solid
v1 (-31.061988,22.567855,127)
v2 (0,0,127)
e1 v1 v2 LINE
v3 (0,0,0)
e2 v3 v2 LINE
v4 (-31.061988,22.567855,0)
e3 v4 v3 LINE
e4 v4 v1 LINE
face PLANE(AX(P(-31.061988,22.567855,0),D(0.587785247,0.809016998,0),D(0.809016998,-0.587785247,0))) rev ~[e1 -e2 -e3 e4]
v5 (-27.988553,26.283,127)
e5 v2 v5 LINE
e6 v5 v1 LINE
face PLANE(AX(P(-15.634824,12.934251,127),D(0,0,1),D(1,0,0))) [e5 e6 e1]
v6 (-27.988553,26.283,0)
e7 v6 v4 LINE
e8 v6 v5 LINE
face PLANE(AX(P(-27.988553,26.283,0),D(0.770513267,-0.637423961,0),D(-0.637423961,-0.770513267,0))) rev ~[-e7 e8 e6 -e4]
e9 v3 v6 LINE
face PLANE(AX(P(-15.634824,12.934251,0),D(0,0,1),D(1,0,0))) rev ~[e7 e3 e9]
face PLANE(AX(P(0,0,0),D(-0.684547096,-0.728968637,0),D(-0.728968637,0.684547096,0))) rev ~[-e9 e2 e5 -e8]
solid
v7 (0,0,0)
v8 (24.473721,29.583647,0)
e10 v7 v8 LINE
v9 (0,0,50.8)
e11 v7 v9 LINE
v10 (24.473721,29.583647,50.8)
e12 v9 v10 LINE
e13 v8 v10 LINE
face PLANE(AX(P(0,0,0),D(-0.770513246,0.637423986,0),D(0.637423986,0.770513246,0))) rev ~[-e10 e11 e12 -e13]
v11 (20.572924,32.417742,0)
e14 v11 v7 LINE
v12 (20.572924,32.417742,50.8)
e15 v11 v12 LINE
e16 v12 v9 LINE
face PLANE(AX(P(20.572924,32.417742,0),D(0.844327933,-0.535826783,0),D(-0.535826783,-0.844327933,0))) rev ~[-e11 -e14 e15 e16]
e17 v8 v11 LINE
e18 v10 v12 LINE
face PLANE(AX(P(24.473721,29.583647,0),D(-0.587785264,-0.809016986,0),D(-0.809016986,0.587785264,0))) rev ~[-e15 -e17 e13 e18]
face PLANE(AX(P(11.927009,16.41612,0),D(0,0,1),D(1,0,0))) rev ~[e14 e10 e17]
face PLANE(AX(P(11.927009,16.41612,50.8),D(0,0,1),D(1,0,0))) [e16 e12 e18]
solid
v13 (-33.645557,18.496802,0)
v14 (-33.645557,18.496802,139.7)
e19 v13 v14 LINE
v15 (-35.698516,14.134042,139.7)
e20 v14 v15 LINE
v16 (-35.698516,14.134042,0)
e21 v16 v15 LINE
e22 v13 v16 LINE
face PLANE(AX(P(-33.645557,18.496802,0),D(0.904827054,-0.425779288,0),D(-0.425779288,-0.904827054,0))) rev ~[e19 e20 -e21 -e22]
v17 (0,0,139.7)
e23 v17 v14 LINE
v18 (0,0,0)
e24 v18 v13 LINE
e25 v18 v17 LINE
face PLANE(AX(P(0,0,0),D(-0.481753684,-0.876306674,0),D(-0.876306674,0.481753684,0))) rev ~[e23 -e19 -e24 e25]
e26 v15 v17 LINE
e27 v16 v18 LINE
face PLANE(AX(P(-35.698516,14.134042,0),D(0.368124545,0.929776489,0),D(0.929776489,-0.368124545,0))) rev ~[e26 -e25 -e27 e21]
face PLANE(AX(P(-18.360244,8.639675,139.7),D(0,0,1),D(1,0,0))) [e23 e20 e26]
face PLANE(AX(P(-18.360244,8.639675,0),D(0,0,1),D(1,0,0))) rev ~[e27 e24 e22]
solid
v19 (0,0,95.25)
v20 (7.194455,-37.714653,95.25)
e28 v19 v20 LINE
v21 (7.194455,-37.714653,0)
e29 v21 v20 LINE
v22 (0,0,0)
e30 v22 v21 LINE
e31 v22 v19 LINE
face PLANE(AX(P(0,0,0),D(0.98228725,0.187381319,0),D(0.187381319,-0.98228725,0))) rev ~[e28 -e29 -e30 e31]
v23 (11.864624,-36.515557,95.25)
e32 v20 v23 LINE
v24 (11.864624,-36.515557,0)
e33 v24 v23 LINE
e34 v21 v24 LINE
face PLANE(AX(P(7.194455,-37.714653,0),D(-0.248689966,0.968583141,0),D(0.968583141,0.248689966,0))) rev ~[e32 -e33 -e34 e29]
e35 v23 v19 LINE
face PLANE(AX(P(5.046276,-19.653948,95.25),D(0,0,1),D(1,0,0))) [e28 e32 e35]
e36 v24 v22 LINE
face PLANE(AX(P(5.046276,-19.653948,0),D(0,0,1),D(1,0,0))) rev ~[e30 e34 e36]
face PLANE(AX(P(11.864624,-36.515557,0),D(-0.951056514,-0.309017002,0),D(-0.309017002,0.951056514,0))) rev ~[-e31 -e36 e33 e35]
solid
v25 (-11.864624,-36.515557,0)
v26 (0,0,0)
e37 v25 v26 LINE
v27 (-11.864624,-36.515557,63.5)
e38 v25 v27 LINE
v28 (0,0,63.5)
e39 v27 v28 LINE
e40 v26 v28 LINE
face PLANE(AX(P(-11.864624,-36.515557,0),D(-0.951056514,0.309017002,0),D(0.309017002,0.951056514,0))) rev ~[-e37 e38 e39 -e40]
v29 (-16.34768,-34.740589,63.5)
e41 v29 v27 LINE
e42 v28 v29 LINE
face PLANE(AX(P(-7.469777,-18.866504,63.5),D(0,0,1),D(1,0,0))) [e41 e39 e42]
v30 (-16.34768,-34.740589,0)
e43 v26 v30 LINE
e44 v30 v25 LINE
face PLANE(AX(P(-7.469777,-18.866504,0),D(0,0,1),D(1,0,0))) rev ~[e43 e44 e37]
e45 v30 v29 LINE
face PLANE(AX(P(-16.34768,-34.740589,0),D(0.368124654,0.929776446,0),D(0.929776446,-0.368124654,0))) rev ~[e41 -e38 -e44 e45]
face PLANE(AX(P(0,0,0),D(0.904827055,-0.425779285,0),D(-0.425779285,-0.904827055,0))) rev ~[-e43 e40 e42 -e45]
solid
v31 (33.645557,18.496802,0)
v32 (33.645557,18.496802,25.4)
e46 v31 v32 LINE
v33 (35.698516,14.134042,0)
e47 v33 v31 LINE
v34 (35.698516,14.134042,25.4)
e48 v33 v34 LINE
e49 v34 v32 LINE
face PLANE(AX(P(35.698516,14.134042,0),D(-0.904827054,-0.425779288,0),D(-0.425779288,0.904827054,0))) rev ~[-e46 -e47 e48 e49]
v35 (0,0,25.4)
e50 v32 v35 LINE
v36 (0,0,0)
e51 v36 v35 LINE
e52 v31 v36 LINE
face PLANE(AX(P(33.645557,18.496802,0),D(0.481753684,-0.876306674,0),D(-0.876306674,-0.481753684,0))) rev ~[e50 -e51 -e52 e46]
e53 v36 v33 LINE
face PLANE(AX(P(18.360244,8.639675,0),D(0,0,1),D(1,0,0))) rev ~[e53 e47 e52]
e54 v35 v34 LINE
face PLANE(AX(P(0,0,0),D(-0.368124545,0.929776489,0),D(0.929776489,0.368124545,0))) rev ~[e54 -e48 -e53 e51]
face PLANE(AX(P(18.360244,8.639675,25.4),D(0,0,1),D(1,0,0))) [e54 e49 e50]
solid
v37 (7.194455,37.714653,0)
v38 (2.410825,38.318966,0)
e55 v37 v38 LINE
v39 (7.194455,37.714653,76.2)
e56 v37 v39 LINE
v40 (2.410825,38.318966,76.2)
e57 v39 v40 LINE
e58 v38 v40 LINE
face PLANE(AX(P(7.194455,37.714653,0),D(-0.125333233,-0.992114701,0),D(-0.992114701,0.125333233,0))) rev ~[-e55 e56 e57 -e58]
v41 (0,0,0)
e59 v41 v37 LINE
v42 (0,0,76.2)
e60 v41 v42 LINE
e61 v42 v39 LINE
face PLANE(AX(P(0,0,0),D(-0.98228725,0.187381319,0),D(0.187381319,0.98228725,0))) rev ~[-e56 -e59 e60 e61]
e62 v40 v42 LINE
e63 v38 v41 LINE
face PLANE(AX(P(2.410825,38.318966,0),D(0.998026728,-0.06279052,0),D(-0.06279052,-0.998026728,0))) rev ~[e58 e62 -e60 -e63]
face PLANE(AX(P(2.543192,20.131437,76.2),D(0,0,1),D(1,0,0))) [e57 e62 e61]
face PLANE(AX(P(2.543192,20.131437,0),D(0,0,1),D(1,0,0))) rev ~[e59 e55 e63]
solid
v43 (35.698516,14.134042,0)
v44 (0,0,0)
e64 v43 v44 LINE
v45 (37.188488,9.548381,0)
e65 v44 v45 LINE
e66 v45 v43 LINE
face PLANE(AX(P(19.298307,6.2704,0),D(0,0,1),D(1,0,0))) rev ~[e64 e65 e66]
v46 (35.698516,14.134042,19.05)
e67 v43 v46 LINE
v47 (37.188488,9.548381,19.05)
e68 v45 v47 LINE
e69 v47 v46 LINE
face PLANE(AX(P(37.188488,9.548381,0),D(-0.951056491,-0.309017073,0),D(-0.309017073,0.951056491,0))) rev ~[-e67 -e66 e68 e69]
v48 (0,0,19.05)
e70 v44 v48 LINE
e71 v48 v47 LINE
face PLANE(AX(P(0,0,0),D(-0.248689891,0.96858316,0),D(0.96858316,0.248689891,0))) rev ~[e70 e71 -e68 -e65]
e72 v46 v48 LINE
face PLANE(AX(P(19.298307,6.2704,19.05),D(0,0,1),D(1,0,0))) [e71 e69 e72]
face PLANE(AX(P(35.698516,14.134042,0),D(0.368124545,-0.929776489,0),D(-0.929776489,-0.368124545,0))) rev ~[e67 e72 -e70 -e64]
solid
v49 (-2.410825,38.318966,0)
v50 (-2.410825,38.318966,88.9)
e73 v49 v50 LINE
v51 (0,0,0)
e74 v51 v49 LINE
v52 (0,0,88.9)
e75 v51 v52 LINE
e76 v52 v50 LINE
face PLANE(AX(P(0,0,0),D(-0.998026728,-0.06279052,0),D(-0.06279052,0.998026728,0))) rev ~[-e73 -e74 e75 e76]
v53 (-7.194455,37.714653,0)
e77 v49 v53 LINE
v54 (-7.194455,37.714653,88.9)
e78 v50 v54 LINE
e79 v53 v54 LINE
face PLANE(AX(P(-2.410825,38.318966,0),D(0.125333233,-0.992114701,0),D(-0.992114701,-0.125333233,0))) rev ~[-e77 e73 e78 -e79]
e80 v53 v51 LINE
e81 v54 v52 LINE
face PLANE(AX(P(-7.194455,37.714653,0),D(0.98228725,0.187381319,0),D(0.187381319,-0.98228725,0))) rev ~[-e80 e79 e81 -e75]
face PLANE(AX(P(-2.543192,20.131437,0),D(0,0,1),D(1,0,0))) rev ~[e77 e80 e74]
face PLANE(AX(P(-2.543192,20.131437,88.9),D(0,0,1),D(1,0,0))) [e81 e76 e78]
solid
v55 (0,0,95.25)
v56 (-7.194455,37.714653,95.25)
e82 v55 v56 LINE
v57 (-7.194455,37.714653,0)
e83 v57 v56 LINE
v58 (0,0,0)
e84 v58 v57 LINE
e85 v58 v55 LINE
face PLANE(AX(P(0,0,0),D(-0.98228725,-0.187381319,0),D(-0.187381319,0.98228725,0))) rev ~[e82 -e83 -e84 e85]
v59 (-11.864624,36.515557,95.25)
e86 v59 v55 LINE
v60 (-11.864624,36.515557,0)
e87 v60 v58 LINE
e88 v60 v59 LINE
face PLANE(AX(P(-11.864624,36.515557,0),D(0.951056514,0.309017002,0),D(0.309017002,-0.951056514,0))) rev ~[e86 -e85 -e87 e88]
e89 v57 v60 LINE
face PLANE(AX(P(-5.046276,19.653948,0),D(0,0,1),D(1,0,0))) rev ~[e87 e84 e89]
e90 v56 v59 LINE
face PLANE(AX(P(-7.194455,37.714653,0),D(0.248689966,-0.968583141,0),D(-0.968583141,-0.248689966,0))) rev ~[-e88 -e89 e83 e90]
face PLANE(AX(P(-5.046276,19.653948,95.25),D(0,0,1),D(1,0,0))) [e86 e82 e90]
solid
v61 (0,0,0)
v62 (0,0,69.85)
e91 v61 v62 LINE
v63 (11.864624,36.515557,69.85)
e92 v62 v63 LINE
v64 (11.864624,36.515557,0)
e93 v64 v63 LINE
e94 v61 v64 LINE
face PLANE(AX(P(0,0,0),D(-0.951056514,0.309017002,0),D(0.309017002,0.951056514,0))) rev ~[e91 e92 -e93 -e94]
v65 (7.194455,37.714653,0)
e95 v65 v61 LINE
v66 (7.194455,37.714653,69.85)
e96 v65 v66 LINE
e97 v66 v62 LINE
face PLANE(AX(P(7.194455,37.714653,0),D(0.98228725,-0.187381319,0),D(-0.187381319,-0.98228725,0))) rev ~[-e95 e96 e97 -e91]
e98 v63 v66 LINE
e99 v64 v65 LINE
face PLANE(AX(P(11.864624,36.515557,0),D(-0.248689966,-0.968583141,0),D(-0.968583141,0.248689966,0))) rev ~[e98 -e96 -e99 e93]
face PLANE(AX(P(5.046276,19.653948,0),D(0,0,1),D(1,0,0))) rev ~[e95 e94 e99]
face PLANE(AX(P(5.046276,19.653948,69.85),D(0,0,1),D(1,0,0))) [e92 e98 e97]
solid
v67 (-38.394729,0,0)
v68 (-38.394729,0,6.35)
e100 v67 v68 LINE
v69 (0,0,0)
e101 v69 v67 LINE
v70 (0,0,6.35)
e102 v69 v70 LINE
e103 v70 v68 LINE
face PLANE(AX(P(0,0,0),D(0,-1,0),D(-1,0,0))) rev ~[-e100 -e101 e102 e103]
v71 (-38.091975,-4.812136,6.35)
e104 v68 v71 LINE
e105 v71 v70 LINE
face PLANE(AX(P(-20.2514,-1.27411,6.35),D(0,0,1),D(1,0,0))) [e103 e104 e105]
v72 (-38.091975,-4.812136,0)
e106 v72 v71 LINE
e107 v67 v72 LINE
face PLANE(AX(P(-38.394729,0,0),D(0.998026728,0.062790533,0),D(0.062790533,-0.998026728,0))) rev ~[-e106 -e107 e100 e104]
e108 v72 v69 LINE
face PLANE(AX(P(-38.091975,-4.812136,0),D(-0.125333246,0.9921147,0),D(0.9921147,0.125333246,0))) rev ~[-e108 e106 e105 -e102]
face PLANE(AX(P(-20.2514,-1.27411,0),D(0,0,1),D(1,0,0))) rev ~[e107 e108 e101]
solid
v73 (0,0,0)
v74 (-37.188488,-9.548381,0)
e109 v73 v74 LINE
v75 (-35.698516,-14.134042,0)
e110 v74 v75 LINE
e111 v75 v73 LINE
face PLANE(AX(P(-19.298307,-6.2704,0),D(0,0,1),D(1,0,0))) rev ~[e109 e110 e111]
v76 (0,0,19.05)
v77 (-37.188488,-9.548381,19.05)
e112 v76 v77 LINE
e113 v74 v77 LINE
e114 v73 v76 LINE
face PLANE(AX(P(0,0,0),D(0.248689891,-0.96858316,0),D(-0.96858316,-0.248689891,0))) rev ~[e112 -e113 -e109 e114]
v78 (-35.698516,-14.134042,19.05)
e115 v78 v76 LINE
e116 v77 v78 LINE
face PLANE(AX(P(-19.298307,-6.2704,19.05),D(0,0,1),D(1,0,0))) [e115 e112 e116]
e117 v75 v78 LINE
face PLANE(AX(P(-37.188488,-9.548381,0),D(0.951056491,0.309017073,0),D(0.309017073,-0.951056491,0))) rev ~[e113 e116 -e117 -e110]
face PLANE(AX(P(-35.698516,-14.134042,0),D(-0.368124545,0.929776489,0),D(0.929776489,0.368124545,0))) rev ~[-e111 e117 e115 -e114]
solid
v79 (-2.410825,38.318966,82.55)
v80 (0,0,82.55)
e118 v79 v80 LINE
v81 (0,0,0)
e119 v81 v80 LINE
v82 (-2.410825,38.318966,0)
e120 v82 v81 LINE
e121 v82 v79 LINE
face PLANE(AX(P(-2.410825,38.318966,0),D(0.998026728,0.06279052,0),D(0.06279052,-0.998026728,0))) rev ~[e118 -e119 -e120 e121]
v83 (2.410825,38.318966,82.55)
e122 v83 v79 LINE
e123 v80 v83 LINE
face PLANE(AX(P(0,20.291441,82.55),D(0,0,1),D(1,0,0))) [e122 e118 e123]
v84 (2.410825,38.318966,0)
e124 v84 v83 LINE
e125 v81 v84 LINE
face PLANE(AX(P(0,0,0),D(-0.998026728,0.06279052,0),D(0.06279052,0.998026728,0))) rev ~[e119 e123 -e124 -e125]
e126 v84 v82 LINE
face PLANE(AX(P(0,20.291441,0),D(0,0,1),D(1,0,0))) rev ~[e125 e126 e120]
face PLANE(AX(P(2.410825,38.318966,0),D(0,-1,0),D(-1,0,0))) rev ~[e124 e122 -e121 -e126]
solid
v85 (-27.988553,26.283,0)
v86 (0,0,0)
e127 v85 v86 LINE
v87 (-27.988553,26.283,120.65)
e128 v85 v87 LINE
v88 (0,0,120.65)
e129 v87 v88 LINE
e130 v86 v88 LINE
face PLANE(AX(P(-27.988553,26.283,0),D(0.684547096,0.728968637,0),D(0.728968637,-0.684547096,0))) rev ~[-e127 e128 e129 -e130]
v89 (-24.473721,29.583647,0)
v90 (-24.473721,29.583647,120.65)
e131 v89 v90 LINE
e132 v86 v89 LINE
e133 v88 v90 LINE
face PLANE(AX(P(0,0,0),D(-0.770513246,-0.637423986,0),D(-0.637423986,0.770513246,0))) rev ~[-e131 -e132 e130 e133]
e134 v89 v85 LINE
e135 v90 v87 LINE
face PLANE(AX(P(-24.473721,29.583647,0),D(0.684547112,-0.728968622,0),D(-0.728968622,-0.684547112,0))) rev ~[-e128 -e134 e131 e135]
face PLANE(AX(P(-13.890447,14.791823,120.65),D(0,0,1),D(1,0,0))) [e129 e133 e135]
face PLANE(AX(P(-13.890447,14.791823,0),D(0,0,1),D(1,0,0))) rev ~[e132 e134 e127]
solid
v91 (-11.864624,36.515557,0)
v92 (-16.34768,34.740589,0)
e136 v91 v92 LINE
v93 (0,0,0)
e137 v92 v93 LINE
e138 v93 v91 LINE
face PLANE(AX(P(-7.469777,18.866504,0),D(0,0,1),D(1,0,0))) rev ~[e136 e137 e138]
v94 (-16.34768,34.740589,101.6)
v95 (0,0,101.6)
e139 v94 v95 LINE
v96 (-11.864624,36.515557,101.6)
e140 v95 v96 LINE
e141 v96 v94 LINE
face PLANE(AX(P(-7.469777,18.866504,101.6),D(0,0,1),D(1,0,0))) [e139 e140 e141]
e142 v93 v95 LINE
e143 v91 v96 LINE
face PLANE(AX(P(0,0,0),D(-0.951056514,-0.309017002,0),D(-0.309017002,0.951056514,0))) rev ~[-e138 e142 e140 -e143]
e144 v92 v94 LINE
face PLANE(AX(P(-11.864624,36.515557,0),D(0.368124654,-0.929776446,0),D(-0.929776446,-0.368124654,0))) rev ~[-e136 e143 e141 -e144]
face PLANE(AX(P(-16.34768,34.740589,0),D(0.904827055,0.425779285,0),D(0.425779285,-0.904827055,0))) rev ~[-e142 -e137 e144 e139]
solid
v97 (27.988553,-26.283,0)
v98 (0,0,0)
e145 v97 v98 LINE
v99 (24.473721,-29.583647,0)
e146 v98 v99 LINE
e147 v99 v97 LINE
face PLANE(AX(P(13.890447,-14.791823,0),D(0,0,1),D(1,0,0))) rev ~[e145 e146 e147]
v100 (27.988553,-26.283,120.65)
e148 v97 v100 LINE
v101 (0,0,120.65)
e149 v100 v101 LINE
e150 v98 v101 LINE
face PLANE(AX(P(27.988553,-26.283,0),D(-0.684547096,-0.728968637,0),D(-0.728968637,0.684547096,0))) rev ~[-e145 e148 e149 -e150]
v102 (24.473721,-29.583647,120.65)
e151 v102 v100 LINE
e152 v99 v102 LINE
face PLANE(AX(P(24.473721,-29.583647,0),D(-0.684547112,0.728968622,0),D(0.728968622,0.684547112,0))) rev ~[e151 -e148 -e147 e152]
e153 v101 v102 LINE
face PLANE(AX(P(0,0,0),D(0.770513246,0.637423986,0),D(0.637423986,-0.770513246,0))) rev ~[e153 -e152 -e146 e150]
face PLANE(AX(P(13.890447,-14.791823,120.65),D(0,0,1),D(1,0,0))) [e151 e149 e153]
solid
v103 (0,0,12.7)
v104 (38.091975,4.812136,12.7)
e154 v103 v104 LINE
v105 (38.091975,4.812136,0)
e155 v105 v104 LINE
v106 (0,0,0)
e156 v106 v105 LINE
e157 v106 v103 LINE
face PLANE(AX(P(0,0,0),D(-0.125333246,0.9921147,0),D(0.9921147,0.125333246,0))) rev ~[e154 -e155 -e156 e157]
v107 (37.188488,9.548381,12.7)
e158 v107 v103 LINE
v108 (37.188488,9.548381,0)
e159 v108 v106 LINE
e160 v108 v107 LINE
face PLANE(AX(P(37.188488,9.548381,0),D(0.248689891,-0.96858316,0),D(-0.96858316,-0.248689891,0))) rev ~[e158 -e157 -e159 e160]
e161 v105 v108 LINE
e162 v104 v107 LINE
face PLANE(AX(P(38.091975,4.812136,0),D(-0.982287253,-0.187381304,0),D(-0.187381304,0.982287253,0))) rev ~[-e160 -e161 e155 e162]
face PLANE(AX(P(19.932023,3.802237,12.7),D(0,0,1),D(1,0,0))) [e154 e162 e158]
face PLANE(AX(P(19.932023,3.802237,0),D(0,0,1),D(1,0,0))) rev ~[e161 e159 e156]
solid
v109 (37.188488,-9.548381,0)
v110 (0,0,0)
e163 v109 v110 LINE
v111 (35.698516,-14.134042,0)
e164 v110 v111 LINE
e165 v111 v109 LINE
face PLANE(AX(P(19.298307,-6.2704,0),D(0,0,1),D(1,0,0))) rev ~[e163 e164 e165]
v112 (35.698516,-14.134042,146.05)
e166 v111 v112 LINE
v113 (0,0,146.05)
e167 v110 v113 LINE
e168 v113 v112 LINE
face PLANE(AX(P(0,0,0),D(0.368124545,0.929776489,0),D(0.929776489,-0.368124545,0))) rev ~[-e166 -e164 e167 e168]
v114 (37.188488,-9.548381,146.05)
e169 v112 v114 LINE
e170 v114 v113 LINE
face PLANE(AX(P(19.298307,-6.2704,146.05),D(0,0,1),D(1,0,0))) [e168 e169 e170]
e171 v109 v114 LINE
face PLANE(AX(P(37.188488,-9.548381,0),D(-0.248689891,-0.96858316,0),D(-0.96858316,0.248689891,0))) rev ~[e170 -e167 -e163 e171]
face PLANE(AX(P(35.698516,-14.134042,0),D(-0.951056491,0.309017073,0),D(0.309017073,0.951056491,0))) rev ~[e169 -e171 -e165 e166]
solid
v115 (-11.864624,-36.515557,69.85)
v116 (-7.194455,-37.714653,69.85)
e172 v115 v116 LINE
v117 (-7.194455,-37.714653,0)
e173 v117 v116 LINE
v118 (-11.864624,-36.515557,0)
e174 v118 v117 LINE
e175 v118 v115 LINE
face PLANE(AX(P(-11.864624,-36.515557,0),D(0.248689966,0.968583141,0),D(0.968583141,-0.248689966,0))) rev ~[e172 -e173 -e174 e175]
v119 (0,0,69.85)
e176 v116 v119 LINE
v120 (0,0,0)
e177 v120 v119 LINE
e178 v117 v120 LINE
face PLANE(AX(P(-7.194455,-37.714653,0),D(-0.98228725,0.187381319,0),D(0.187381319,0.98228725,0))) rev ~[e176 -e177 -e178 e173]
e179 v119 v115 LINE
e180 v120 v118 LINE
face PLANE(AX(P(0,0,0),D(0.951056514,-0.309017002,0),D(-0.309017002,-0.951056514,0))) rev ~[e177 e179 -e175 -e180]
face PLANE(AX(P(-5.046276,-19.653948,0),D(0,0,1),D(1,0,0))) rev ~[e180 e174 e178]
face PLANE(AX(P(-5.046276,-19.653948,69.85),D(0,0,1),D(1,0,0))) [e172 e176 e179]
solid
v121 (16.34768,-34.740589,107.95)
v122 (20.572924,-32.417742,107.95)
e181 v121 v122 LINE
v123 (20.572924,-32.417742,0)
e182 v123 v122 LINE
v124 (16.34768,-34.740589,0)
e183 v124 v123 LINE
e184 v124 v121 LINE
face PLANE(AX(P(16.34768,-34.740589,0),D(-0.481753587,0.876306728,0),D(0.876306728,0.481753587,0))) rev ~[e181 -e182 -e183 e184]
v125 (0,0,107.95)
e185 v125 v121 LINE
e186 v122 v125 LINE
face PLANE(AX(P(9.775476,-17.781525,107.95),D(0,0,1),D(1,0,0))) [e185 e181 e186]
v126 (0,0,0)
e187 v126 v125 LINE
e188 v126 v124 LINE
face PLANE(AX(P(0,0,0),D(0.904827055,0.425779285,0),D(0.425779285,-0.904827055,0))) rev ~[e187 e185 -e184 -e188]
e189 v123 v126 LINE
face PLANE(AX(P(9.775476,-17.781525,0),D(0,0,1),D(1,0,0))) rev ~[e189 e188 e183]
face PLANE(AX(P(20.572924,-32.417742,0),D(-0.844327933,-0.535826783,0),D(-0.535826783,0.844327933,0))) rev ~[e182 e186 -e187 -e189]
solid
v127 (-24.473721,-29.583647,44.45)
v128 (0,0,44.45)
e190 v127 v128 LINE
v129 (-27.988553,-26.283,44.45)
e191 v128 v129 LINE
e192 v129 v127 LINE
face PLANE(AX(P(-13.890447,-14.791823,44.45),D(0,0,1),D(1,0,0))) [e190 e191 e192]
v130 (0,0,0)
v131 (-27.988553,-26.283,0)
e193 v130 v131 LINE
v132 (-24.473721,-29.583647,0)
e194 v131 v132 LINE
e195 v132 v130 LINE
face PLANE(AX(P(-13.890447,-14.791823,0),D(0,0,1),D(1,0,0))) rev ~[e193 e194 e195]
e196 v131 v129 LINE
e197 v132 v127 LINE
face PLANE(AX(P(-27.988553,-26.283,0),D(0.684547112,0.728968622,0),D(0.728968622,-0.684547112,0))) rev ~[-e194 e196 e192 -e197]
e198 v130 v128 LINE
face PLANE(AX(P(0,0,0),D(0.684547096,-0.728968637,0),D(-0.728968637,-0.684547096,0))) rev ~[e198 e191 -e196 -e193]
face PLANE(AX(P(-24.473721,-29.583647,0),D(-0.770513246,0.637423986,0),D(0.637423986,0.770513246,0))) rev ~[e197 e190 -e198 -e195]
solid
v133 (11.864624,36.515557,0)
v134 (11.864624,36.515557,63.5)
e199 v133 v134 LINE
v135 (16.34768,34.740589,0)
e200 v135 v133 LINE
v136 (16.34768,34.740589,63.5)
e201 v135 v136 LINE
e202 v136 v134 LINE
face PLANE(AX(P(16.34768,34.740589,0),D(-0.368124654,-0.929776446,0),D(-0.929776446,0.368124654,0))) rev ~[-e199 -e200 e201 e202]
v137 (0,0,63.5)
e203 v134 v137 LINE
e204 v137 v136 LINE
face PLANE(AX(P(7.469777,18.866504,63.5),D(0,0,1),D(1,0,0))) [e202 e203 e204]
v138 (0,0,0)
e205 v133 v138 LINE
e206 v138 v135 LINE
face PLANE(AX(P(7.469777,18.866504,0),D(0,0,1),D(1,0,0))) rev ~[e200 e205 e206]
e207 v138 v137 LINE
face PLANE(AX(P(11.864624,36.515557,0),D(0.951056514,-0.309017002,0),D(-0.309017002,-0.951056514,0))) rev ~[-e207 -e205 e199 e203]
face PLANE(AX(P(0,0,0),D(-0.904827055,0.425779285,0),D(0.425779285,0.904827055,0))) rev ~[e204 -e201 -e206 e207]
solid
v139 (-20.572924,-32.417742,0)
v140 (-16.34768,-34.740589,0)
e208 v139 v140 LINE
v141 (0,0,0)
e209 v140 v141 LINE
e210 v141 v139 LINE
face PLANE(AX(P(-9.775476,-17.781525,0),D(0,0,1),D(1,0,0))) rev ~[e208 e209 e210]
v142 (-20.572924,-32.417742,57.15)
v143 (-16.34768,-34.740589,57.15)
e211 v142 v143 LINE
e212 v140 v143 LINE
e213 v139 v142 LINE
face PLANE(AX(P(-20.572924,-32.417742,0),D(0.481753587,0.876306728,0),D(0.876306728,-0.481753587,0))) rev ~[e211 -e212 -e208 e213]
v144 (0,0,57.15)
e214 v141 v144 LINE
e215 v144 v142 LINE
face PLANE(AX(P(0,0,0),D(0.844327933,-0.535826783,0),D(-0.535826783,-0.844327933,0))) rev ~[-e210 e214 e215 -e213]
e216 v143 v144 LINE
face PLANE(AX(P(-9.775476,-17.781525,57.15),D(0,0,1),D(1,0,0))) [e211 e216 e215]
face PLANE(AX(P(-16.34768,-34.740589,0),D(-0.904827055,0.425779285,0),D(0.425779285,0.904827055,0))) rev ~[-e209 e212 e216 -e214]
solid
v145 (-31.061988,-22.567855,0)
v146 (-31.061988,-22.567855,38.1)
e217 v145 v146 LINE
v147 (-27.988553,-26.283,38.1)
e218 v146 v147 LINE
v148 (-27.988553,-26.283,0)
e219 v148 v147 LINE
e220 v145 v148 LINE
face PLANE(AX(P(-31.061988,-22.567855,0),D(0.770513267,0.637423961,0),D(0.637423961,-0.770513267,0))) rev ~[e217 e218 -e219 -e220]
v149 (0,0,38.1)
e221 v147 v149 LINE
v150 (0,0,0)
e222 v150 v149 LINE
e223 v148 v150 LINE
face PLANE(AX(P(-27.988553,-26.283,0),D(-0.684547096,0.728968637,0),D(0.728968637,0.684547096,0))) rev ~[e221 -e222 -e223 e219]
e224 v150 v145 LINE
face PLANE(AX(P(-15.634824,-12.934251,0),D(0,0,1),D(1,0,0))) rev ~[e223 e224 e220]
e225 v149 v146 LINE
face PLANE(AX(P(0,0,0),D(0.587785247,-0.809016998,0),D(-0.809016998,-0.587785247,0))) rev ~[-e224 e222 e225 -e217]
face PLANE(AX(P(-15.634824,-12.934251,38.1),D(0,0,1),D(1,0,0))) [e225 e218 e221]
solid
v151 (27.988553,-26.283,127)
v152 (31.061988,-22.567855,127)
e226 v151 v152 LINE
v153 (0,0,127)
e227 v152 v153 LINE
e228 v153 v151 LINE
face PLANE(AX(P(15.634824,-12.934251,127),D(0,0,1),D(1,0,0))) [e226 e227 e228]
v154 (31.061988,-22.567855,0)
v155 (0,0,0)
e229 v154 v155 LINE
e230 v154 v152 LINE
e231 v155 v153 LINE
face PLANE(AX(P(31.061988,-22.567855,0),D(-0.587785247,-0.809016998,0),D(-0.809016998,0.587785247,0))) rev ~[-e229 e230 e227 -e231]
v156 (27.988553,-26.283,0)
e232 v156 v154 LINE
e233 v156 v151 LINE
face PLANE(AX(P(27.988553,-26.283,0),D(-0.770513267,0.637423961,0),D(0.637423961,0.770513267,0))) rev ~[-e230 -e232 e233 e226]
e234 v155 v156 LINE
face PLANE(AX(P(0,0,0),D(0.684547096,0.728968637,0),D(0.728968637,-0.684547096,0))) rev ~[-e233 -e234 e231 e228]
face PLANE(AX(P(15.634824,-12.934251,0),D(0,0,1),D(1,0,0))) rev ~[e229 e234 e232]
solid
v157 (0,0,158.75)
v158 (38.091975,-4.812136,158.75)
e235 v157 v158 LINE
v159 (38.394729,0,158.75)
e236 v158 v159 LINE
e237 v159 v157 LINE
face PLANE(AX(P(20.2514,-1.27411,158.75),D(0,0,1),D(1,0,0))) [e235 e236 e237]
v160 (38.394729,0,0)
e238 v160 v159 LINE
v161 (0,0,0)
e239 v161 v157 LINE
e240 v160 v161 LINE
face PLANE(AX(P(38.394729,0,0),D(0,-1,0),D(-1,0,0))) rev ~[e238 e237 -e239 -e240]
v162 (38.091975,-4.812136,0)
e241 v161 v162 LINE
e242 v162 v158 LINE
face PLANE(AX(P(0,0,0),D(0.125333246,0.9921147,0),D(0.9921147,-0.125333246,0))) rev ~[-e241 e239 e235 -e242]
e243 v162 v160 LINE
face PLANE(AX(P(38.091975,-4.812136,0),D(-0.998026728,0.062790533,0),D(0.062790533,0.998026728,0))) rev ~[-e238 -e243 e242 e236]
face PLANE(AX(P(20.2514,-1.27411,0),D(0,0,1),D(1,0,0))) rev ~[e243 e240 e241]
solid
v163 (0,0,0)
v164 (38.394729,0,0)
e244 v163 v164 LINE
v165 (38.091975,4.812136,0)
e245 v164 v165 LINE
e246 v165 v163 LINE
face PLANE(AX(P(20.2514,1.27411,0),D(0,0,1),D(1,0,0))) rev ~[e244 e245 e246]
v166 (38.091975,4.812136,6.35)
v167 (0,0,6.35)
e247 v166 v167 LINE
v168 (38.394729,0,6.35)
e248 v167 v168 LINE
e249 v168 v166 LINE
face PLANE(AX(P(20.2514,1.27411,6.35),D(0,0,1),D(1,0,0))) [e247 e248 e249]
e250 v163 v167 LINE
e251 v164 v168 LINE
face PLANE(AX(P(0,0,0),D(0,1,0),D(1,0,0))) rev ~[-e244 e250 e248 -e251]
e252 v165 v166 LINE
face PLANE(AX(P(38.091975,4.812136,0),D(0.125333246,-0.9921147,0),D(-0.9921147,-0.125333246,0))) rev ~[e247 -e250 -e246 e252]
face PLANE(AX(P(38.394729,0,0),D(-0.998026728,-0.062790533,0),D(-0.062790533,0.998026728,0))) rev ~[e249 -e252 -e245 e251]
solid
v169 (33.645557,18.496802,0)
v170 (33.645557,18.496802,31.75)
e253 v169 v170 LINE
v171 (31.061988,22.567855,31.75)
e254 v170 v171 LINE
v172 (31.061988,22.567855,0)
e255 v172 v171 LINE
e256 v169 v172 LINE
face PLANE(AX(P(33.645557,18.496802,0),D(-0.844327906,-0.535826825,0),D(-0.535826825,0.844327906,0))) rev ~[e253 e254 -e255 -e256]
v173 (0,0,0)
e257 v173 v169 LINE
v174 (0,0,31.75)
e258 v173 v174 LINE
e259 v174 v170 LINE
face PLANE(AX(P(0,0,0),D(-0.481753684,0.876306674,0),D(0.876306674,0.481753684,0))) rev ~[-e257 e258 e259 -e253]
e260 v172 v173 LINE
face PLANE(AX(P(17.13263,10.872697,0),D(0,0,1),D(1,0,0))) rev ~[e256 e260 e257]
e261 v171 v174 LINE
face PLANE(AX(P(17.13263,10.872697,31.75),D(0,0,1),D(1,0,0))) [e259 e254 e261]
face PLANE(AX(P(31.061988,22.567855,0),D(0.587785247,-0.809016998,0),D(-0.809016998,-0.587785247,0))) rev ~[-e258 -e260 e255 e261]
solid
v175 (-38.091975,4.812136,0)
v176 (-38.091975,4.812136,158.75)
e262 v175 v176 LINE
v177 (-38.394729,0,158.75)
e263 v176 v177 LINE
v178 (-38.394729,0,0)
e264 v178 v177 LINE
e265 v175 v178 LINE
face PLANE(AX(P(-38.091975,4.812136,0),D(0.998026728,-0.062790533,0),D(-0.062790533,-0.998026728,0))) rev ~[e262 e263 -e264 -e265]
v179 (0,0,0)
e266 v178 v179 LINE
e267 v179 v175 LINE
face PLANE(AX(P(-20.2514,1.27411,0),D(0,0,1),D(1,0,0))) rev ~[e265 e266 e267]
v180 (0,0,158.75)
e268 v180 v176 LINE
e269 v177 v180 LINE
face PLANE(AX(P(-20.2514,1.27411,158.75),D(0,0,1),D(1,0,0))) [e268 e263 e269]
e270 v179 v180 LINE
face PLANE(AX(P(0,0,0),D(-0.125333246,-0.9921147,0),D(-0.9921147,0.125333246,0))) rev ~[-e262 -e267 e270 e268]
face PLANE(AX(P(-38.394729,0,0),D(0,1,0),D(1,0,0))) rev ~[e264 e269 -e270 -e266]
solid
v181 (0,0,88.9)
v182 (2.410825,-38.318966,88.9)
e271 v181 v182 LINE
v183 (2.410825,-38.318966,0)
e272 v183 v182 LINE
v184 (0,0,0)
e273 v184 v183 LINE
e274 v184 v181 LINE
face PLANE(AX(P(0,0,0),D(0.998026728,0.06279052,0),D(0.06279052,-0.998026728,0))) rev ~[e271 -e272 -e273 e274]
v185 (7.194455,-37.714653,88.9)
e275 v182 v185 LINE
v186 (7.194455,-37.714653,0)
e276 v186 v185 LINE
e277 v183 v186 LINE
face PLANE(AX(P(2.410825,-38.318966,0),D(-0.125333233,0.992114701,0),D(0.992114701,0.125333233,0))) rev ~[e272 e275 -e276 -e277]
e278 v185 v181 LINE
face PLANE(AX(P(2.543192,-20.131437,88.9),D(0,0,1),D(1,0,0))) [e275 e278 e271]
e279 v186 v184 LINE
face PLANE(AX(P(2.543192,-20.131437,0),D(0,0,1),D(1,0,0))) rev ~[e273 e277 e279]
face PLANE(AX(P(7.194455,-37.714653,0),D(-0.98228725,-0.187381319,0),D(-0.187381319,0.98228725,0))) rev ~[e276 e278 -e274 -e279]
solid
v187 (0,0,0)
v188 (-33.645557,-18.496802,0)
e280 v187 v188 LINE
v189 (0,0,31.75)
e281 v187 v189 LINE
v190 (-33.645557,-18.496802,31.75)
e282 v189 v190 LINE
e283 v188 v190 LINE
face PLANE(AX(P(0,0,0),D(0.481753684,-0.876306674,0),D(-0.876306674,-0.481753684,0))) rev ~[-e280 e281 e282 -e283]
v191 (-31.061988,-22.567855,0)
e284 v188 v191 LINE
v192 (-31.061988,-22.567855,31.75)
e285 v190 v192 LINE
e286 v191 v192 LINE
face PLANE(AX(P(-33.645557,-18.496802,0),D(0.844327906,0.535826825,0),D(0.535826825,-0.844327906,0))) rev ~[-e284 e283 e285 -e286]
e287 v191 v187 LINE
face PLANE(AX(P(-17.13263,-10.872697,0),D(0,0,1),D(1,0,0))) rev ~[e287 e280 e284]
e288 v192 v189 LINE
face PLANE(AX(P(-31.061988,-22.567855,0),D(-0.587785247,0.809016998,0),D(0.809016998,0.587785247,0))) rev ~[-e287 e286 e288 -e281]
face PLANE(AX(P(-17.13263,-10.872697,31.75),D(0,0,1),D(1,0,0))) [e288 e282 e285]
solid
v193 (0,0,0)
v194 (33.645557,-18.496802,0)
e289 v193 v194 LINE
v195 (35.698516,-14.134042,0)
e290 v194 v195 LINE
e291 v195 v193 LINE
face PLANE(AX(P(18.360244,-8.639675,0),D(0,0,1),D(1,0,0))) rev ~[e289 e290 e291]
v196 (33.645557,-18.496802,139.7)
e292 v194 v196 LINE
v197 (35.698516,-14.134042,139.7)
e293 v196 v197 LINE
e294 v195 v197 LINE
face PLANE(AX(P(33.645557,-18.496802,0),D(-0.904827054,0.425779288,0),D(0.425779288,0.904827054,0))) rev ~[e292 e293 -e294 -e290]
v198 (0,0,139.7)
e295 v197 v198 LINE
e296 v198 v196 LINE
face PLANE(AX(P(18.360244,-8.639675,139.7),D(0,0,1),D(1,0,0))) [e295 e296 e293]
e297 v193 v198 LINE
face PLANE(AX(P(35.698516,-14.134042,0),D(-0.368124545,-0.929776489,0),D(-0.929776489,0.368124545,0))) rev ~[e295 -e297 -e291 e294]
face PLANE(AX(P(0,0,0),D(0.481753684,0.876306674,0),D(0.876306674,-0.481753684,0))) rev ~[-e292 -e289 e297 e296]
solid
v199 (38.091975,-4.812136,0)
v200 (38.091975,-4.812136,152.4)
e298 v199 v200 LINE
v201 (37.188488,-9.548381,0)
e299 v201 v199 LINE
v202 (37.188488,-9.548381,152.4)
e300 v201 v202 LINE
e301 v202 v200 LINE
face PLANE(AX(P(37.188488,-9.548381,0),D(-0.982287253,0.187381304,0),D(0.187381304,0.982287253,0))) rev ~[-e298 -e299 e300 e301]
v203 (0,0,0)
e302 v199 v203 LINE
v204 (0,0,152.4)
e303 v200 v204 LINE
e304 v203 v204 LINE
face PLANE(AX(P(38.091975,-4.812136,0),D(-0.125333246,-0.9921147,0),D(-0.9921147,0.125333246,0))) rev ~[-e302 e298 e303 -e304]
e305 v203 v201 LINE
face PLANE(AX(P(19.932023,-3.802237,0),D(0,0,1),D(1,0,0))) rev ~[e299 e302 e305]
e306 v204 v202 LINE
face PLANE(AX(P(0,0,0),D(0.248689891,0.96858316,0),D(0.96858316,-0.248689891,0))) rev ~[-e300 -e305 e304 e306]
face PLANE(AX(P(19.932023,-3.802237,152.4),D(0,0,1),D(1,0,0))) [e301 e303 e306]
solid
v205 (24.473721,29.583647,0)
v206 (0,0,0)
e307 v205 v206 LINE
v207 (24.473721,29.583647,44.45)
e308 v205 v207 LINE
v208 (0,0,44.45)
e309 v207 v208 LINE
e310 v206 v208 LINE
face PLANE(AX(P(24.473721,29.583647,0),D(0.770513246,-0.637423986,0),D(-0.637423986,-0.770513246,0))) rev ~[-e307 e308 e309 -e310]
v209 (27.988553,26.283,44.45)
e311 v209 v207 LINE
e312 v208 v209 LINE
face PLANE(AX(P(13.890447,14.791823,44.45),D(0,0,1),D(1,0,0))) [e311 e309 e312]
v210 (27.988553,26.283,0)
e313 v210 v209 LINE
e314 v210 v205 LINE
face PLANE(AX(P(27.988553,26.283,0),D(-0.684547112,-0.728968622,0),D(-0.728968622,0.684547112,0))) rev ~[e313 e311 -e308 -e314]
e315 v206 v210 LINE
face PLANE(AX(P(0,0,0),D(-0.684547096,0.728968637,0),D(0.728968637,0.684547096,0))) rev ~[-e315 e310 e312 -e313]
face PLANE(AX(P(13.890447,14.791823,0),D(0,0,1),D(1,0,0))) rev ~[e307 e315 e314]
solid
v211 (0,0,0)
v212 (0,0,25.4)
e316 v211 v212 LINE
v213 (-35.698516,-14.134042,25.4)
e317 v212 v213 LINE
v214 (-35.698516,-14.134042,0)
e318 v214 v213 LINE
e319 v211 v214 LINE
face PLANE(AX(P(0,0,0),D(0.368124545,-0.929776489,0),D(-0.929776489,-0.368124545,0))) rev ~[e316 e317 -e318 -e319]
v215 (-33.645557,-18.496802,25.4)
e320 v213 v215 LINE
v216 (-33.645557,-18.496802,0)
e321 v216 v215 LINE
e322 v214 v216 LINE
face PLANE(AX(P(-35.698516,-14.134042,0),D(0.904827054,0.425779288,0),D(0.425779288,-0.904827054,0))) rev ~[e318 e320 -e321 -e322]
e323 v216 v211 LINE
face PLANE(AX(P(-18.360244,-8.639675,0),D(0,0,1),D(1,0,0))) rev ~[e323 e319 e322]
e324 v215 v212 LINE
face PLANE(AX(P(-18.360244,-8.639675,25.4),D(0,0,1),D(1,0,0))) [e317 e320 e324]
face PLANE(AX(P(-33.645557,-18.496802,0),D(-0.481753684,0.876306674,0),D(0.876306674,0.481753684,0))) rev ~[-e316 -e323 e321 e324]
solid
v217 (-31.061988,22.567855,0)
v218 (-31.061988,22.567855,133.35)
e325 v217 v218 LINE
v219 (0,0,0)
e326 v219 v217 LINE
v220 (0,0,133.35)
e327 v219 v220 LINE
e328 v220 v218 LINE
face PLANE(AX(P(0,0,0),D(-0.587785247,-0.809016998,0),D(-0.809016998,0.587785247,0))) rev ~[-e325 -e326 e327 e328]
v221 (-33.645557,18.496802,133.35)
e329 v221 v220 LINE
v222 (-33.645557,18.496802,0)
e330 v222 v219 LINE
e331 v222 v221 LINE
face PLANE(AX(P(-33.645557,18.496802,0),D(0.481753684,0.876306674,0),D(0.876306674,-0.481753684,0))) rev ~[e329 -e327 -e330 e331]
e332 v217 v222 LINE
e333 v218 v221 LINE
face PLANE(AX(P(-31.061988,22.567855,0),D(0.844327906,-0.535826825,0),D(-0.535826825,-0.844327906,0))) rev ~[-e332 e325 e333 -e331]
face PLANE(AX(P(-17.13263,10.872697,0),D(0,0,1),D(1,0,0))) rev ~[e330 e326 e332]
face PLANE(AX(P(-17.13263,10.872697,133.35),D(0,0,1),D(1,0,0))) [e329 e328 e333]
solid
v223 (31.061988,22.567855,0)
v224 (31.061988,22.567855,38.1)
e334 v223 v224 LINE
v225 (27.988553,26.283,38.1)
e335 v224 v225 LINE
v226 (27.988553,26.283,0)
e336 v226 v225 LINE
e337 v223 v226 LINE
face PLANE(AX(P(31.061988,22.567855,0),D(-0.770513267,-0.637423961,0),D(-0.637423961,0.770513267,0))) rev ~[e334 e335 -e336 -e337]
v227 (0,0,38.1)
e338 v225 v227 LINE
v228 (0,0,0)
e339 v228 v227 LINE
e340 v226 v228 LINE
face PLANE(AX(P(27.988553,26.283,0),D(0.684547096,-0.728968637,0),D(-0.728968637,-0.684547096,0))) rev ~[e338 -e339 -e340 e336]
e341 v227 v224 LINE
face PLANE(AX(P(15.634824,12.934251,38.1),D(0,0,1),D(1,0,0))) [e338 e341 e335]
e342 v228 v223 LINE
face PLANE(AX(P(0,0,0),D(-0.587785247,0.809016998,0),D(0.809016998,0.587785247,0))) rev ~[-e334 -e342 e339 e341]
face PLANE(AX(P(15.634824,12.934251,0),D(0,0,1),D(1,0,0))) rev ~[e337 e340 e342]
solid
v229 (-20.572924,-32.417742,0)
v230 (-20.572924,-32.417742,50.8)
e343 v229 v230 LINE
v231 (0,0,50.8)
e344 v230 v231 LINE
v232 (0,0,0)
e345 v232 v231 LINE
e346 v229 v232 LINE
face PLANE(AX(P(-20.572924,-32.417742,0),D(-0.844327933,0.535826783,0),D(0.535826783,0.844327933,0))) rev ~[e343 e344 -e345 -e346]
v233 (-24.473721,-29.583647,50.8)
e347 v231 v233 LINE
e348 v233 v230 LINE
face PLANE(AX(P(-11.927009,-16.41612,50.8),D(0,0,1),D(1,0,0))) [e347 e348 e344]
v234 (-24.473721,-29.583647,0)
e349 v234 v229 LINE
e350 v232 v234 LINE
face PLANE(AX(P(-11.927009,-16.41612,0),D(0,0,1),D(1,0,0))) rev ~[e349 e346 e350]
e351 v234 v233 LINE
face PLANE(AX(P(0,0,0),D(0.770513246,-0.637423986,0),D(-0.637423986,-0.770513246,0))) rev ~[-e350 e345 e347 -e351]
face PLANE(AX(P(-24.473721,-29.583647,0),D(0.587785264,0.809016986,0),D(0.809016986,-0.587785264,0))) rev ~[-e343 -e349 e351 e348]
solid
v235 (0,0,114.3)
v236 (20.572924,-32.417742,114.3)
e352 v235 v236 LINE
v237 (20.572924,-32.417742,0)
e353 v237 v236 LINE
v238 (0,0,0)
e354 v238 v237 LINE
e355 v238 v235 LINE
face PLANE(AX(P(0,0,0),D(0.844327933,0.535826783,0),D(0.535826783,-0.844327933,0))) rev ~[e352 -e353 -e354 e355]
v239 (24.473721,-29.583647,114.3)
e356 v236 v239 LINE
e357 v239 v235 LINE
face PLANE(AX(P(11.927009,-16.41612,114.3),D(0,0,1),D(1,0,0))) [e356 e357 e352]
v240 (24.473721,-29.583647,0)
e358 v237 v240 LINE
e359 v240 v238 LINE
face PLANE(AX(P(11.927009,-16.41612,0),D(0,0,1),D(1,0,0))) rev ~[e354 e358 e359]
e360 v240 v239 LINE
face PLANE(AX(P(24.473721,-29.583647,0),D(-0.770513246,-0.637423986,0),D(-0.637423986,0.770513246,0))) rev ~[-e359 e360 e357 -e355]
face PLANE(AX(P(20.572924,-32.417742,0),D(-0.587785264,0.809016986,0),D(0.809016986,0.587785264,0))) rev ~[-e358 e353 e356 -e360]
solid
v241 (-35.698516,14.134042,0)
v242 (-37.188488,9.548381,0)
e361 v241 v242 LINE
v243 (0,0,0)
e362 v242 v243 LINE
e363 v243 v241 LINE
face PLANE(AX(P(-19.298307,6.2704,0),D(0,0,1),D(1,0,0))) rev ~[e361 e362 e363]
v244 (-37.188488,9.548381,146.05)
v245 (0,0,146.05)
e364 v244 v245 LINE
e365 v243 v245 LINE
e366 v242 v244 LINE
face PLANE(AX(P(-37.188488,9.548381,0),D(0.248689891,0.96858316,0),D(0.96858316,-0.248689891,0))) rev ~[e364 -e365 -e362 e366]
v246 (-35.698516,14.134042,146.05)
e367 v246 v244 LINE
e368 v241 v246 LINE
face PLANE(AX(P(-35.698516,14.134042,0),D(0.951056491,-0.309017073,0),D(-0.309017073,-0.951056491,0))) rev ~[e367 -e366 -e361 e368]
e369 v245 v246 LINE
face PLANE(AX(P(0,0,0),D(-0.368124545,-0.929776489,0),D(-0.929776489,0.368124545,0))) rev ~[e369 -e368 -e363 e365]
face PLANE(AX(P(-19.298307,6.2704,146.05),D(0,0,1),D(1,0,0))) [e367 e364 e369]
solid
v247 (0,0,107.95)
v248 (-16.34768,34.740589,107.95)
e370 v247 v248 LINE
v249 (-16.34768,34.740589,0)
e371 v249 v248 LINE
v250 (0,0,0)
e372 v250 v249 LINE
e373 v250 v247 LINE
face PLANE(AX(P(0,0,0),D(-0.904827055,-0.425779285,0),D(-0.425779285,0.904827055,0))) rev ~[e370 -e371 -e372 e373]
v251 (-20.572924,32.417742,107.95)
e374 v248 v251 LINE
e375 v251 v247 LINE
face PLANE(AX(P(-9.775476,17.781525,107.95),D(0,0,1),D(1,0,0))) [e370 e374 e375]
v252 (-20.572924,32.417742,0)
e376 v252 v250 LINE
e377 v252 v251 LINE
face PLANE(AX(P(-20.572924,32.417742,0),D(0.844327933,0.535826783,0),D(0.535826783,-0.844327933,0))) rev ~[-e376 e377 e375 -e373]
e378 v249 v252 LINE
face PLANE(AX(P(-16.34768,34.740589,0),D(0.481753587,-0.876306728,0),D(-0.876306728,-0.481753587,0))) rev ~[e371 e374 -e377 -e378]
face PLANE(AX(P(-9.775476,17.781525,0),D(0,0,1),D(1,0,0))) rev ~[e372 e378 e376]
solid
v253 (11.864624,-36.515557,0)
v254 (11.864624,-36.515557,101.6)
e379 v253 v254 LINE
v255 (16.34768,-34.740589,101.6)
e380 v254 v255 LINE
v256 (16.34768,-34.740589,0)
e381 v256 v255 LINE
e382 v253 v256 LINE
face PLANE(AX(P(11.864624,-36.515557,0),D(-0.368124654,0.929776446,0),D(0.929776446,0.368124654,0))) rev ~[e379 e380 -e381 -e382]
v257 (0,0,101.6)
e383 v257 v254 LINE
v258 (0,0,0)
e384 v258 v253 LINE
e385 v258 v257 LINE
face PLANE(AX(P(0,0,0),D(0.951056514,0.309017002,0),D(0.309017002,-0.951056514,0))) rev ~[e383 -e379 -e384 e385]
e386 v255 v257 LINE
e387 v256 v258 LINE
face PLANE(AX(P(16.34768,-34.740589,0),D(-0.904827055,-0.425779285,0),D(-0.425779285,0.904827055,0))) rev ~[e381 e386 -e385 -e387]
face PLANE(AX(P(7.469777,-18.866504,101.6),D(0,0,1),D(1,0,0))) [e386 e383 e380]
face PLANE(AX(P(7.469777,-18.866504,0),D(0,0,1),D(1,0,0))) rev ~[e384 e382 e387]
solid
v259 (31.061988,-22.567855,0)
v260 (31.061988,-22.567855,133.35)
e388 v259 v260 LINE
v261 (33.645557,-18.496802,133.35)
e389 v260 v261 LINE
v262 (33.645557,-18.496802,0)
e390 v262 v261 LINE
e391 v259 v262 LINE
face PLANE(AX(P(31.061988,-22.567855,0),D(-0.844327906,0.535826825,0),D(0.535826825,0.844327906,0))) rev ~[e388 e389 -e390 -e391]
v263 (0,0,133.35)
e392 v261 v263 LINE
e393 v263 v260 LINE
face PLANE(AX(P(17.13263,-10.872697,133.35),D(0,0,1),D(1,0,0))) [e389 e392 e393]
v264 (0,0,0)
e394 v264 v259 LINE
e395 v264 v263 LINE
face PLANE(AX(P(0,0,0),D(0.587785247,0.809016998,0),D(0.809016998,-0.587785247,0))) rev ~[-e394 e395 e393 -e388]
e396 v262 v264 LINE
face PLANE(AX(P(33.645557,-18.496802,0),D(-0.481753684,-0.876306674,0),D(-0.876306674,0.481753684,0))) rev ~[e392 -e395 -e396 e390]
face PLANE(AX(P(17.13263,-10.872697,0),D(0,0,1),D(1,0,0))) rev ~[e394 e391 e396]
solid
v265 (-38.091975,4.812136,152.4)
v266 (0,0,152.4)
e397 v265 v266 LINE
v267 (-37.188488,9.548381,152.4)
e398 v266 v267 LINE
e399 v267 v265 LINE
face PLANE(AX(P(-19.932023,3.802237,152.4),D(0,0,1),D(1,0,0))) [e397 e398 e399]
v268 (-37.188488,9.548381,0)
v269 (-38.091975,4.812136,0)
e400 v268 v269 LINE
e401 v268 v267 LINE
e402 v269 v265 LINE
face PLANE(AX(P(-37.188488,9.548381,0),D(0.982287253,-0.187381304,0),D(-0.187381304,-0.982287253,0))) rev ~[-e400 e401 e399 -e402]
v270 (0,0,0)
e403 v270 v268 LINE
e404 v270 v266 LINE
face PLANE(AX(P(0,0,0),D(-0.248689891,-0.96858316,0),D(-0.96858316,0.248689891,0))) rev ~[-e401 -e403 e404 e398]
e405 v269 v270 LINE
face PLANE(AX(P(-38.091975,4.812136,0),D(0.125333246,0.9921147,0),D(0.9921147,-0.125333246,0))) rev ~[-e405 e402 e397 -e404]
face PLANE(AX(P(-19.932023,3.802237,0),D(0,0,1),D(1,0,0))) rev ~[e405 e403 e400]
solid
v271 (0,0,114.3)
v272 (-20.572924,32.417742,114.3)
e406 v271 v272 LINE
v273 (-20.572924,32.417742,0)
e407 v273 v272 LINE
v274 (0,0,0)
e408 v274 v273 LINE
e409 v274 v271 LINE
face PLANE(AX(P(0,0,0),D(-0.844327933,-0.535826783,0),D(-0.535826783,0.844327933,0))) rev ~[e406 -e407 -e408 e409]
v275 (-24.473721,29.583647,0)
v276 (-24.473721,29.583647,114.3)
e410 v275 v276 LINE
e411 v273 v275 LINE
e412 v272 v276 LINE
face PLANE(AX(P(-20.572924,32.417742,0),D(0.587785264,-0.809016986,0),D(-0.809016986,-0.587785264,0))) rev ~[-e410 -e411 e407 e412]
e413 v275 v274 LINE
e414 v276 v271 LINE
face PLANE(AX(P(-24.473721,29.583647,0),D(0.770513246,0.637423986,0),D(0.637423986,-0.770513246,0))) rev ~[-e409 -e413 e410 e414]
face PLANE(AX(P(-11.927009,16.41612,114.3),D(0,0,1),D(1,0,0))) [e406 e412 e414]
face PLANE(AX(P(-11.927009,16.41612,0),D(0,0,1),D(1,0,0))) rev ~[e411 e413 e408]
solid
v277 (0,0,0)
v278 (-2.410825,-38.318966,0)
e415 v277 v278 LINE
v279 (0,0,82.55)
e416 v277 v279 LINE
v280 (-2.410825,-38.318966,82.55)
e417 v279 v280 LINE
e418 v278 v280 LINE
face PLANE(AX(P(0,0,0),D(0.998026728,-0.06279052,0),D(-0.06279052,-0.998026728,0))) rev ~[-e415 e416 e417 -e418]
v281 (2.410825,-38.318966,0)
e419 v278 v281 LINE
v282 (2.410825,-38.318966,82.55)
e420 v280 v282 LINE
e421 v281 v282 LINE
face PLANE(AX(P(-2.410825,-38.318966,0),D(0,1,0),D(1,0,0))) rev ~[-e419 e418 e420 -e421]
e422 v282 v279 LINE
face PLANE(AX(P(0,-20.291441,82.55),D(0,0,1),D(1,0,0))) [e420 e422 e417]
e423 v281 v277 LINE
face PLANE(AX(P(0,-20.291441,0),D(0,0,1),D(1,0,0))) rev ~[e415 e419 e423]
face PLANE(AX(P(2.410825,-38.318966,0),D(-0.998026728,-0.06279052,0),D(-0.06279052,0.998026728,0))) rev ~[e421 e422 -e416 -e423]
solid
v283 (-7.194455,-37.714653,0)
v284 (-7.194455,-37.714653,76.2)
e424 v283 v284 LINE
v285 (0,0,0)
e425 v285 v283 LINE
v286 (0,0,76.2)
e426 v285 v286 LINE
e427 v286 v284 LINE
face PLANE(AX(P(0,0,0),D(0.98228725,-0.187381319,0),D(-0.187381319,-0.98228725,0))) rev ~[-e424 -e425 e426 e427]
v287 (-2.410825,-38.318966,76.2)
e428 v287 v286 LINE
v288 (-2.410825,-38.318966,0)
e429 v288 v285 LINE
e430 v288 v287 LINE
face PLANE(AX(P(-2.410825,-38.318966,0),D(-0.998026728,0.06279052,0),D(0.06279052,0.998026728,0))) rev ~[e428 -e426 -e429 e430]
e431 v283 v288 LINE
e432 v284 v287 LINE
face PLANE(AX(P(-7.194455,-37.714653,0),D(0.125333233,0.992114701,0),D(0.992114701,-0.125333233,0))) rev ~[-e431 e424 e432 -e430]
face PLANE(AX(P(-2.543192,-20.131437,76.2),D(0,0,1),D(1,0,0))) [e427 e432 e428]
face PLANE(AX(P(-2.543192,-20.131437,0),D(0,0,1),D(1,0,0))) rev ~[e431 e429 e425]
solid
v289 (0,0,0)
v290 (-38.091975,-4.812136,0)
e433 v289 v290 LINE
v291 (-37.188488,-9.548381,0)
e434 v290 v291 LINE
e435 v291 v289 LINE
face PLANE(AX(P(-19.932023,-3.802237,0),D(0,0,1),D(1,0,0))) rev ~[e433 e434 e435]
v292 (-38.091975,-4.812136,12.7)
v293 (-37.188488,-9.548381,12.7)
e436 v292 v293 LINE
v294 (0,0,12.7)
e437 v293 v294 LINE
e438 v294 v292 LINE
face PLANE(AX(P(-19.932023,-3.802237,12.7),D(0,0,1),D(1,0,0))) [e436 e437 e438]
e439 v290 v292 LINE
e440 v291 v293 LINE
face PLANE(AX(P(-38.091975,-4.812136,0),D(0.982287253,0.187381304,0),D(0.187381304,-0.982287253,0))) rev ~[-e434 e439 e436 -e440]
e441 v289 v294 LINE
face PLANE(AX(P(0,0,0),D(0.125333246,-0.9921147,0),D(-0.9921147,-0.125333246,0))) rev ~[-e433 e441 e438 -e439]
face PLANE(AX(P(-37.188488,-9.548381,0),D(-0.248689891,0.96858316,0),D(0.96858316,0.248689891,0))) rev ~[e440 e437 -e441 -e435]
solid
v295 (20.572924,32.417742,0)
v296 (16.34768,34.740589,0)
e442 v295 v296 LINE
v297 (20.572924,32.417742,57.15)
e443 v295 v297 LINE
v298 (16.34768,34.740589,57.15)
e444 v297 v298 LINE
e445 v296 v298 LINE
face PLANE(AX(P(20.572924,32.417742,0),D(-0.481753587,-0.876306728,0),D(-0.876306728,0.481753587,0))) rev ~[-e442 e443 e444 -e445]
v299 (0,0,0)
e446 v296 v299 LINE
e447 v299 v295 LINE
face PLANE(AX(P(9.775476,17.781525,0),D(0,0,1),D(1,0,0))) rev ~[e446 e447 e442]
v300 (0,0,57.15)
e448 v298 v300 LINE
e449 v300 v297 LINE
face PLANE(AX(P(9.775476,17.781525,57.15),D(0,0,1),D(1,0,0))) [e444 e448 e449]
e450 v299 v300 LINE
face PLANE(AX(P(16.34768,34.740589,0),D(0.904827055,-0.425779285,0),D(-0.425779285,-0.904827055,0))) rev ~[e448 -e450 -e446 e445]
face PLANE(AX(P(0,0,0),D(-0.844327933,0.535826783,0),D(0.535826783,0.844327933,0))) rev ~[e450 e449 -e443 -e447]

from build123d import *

# Parameters (mm, degrees)
F1_DEPTH  = 6.35
F2_DEPTH  = 12.7
F3_DEPTH  = 19.05
F4_DEPTH  = 25.4
F5_DEPTH  = 31.75
F6_DEPTH  = 38.1
F7_DEPTH  = 44.45
F8_DEPTH  = 50.8
F9_DEPTH  = 57.15
F10_DEPTH = 63.5
F11_DEPTH = 69.85
F12_DEPTH = 76.2
F13_DEPTH = 82.55
F14_DEPTH = 88.9
F15_DEPTH = 95.25
F16_DEPTH = 101.6
F17_DEPTH = 107.95
F18_DEPTH = 114.3
F19_DEPTH = 120.65
F20_DEPTH = 127
F21_DEPTH = 133.35
F22_DEPTH = 139.7
F23_DEPTH = 146.05
F24_DEPTH = 152.4
F25_DEPTH = 158.75


with BuildPart() as f1:
    # F0 (on Top) → F1 (new body)
    with BuildSketch(Plane.XY):
        Polygon((38.091975, 4.812136), (0, 0), (38.394729, 0), align=None)
        Polygon((-38.091975, -4.812136), (0, 0), (-38.394729, 0), align=None)
    extrude(amount=F1_DEPTH)


with BuildPart() as f2:
    # F0 (on Top) → F2 (new body)
    with BuildSketch(Plane.XY):
        Polygon((37.188488, 9.548381), (0, 0), (38.091975, 4.812136), align=None)
        Polygon((-37.188488, -9.548381), (0, 0), (-38.091975, -4.812136), align=None)
    extrude(amount=F2_DEPTH)


with BuildPart() as f3:
    # F0 (on Top) → F3 (new body)
    with BuildSketch(Plane.XY):
        Polygon((35.698516, 14.134042), (0, 0), (37.188488, 9.548381), align=None)
        Polygon((-35.698516, -14.134042), (0, 0), (-37.188488, -9.548381), align=None)
    extrude(amount=F3_DEPTH)


with BuildPart() as f4:
    # F0 (on Top) → F4 (new body)
    with BuildSketch(Plane.XY):
        Polygon((33.645557, 18.496802), (0, 0), (35.698516, 14.134042), align=None)
        Polygon((-33.645557, -18.496802), (0, 0), (-35.698516, -14.134042), align=None)
    extrude(amount=F4_DEPTH)


with BuildPart() as f5:
    # F0 (on Top) → F5 (new body)
    with BuildSketch(Plane.XY):
        Polygon((31.061988, 22.567855), (0, 0), (33.645557, 18.496802), align=None)
        Polygon((-31.061988, -22.567855), (0, 0), (-33.645557, -18.496802), align=None)
    extrude(amount=F5_DEPTH)


with BuildPart() as f6:
    # F0 (on Top) → F6 (new body)
    with BuildSketch(Plane.XY):
        Polygon((27.988553, 26.283), (0, 0), (31.061988, 22.567855), align=None)
        Polygon((-27.988553, -26.283), (0, 0), (-31.061988, -22.567855), align=None)
    extrude(amount=F6_DEPTH)


with BuildPart() as f7:
    # F0 (on Top) → F7 (new body)
    with BuildSketch(Plane.XY):
        Polygon((24.473721, 29.583647), (0, 0), (27.988553, 26.283), align=None)
        Polygon((-24.473721, -29.583647), (0, 0), (-27.988553, -26.283), align=None)
    extrude(amount=F7_DEPTH)


with BuildPart() as f8:
    # F0 (on Top) → F8 (new body)
    with BuildSketch(Plane.XY):
        Polygon((20.572924, 32.417742), (0, 0), (24.473721, 29.583647), align=None)
        Polygon((-20.572924, -32.417742), (0, 0), (-24.473721, -29.583647), align=None)
    extrude(amount=F8_DEPTH)


with BuildPart() as f9:
    # F0 (on Top) → F9 (new body)
    with BuildSketch(Plane.XY):
        Polygon((16.34768, 34.740589), (0, 0), (20.572924, 32.417742), align=None)
        Polygon((-16.34768, -34.740589), (0, 0), (-20.572924, -32.417742), align=None)
    extrude(amount=F9_DEPTH)


with BuildPart() as f10:
    # F0 (on Top) → F10 (new body)
    with BuildSketch(Plane.XY):
        Polygon((11.864624, 36.515557), (0, 0), (16.34768, 34.740589), align=None)
        Polygon((-11.864624, -36.515557), (0, 0), (-16.34768, -34.740589), align=None)
    extrude(amount=F10_DEPTH)


with BuildPart() as f11:
    # F0 (on Top) → F11 (new body)
    with BuildSketch(Plane.XY):
        Polygon((7.194455, 37.714653), (0, 0), (11.864624, 36.515557), align=None)
        Polygon((-7.194455, -37.714653), (0, 0), (-11.864624, -36.515557), align=None)
    extrude(amount=F11_DEPTH)


with BuildPart() as f12:
    # F0 (on Top) → F12 (new body)
    with BuildSketch(Plane.XY):
        Polygon((7.194455, 37.714653), (2.410825, 38.318966), (0, 0), align=None)
        Polygon((-2.410825, -38.318966), (0, 0), (-7.194455, -37.714653), align=None)
    extrude(amount=F12_DEPTH)


with BuildPart() as f13:
    # F0 (on Top) → F13 (new body)
    with BuildSketch(Plane.XY):
        Polygon((2.410825, 38.318966), (-2.410825, 38.318966), (0, 0), align=None)
        Polygon((2.410825, -38.318966), (0, 0), (-2.410825, -38.318966), align=None)
    extrude(amount=F13_DEPTH)


with BuildPart() as f14:
    # F0 (on Top) → F14 (new body)
    with BuildSketch(Plane.XY):
        Polygon((0, 0), (-2.410825, 38.318966), (-7.194455, 37.714653), align=None)
        Polygon((7.194455, -37.714653), (0, 0), (2.410825, -38.318966), align=None)
    extrude(amount=F14_DEPTH)


with BuildPart() as f15:
    # F0 (on Top) → F15 (new body)
    with BuildSketch(Plane.XY):
        Polygon((0, 0), (-7.194455, 37.714653), (-11.864624, 36.515557), align=None)
        Polygon((11.864624, -36.515557), (0, 0), (7.194455, -37.714653), align=None)
    extrude(amount=F15_DEPTH)


with BuildPart() as f16:
    # F0 (on Top) → F16 (new body)
    with BuildSketch(Plane.XY):
        Polygon((-16.34768, 34.740589), (0, 0), (-11.864624, 36.515557), align=None)
        Polygon((16.34768, -34.740589), (0, 0), (11.864624, -36.515557), align=None)
    extrude(amount=F16_DEPTH)


with BuildPart() as f17:
    # F0 (on Top) → F17 (new body)
    with BuildSketch(Plane.XY):
        Polygon((-20.572924, 32.417742), (0, 0), (-16.34768, 34.740589), align=None)
        Polygon((20.572924, -32.417742), (0, 0), (16.34768, -34.740589), align=None)
    extrude(amount=F17_DEPTH)


with BuildPart() as f18:
    # F0 (on Top) → F18 (new body)
    with BuildSketch(Plane.XY):
        Polygon((-24.473721, 29.583647), (0, 0), (-20.572924, 32.417742), align=None)
        Polygon((24.473721, -29.583647), (0, 0), (20.572924, -32.417742), align=None)
    extrude(amount=F18_DEPTH)


with BuildPart() as f19:
    # F0 (on Top) → F19 (new body)
    with BuildSketch(Plane.XY):
        Polygon((-27.988553, 26.283), (0, 0), (-24.473721, 29.583647), align=None)
        Polygon((27.988553, -26.283), (0, 0), (24.473721, -29.583647), align=None)
    extrude(amount=F19_DEPTH)


with BuildPart() as f20:
    # F0 (on Top) → F20 (new body)
    with BuildSketch(Plane.XY):
        Polygon((-31.061988, 22.567855), (0, 0), (-27.988553, 26.283), align=None)
        Polygon((31.061988, -22.567855), (0, 0), (27.988553, -26.283), align=None)
    extrude(amount=F20_DEPTH)


with BuildPart() as f21:
    # F0 (on Top) → F21 (new body)
    with BuildSketch(Plane.XY):
        Polygon((-33.645557, 18.496802), (0, 0), (-31.061988, 22.567855), align=None)
        Polygon((33.645557, -18.496802), (0, 0), (31.061988, -22.567855), align=None)
    extrude(amount=F21_DEPTH)


with BuildPart() as f22:
    # F0 (on Top) → F22 (new body)
    with BuildSketch(Plane.XY):
        Polygon((-35.698516, 14.134042), (0, 0), (-33.645557, 18.496802), align=None)
        Polygon((35.698516, -14.134042), (0, 0), (33.645557, -18.496802), align=None)
    extrude(amount=F22_DEPTH)


with BuildPart() as f23:
    # F0 (on Top) → F23 (new body)
    with BuildSketch(Plane.XY):
        Polygon((-37.188488, 9.548381), (0, 0), (-35.698516, 14.134042), align=None)
        Polygon((37.188488, -9.548381), (0, 0), (35.698516, -14.134042), align=None)
    extrude(amount=F23_DEPTH)


with BuildPart() as f24:
    # F0 (on Top) → F24 (new body)
    with BuildSketch(Plane.XY):
        Polygon((-38.091975, 4.812136), (0, 0), (-37.188488, 9.548381), align=None)
        Polygon((38.091975, -4.812136), (0, 0), (37.188488, -9.548381), align=None)
    extrude(amount=F24_DEPTH)


with BuildPart() as f25:
    # F0 (on Top) → F25 (new body)
    with BuildSketch(Plane.XY):
        Polygon((-38.394729, 0), (0, 0), (-38.091975, 4.812136), align=None)
        Polygon((38.394729, 0), (0, 0), (38.091975, -4.812136), align=None)
    extrude(amount=F25_DEPTH)


solid = Compound([f1.part, f2.part, f3.part, f4.part, f5.part, f6.part, f7.part, f8.part, f9.part, f10.part, f11.part, f12.part, f13.part, f14.part, f15.part, f16.part, f17.part, f18.part, f19.part, f20.part, f21.part, f22.part, f23.part, f24.part, f25.part])
